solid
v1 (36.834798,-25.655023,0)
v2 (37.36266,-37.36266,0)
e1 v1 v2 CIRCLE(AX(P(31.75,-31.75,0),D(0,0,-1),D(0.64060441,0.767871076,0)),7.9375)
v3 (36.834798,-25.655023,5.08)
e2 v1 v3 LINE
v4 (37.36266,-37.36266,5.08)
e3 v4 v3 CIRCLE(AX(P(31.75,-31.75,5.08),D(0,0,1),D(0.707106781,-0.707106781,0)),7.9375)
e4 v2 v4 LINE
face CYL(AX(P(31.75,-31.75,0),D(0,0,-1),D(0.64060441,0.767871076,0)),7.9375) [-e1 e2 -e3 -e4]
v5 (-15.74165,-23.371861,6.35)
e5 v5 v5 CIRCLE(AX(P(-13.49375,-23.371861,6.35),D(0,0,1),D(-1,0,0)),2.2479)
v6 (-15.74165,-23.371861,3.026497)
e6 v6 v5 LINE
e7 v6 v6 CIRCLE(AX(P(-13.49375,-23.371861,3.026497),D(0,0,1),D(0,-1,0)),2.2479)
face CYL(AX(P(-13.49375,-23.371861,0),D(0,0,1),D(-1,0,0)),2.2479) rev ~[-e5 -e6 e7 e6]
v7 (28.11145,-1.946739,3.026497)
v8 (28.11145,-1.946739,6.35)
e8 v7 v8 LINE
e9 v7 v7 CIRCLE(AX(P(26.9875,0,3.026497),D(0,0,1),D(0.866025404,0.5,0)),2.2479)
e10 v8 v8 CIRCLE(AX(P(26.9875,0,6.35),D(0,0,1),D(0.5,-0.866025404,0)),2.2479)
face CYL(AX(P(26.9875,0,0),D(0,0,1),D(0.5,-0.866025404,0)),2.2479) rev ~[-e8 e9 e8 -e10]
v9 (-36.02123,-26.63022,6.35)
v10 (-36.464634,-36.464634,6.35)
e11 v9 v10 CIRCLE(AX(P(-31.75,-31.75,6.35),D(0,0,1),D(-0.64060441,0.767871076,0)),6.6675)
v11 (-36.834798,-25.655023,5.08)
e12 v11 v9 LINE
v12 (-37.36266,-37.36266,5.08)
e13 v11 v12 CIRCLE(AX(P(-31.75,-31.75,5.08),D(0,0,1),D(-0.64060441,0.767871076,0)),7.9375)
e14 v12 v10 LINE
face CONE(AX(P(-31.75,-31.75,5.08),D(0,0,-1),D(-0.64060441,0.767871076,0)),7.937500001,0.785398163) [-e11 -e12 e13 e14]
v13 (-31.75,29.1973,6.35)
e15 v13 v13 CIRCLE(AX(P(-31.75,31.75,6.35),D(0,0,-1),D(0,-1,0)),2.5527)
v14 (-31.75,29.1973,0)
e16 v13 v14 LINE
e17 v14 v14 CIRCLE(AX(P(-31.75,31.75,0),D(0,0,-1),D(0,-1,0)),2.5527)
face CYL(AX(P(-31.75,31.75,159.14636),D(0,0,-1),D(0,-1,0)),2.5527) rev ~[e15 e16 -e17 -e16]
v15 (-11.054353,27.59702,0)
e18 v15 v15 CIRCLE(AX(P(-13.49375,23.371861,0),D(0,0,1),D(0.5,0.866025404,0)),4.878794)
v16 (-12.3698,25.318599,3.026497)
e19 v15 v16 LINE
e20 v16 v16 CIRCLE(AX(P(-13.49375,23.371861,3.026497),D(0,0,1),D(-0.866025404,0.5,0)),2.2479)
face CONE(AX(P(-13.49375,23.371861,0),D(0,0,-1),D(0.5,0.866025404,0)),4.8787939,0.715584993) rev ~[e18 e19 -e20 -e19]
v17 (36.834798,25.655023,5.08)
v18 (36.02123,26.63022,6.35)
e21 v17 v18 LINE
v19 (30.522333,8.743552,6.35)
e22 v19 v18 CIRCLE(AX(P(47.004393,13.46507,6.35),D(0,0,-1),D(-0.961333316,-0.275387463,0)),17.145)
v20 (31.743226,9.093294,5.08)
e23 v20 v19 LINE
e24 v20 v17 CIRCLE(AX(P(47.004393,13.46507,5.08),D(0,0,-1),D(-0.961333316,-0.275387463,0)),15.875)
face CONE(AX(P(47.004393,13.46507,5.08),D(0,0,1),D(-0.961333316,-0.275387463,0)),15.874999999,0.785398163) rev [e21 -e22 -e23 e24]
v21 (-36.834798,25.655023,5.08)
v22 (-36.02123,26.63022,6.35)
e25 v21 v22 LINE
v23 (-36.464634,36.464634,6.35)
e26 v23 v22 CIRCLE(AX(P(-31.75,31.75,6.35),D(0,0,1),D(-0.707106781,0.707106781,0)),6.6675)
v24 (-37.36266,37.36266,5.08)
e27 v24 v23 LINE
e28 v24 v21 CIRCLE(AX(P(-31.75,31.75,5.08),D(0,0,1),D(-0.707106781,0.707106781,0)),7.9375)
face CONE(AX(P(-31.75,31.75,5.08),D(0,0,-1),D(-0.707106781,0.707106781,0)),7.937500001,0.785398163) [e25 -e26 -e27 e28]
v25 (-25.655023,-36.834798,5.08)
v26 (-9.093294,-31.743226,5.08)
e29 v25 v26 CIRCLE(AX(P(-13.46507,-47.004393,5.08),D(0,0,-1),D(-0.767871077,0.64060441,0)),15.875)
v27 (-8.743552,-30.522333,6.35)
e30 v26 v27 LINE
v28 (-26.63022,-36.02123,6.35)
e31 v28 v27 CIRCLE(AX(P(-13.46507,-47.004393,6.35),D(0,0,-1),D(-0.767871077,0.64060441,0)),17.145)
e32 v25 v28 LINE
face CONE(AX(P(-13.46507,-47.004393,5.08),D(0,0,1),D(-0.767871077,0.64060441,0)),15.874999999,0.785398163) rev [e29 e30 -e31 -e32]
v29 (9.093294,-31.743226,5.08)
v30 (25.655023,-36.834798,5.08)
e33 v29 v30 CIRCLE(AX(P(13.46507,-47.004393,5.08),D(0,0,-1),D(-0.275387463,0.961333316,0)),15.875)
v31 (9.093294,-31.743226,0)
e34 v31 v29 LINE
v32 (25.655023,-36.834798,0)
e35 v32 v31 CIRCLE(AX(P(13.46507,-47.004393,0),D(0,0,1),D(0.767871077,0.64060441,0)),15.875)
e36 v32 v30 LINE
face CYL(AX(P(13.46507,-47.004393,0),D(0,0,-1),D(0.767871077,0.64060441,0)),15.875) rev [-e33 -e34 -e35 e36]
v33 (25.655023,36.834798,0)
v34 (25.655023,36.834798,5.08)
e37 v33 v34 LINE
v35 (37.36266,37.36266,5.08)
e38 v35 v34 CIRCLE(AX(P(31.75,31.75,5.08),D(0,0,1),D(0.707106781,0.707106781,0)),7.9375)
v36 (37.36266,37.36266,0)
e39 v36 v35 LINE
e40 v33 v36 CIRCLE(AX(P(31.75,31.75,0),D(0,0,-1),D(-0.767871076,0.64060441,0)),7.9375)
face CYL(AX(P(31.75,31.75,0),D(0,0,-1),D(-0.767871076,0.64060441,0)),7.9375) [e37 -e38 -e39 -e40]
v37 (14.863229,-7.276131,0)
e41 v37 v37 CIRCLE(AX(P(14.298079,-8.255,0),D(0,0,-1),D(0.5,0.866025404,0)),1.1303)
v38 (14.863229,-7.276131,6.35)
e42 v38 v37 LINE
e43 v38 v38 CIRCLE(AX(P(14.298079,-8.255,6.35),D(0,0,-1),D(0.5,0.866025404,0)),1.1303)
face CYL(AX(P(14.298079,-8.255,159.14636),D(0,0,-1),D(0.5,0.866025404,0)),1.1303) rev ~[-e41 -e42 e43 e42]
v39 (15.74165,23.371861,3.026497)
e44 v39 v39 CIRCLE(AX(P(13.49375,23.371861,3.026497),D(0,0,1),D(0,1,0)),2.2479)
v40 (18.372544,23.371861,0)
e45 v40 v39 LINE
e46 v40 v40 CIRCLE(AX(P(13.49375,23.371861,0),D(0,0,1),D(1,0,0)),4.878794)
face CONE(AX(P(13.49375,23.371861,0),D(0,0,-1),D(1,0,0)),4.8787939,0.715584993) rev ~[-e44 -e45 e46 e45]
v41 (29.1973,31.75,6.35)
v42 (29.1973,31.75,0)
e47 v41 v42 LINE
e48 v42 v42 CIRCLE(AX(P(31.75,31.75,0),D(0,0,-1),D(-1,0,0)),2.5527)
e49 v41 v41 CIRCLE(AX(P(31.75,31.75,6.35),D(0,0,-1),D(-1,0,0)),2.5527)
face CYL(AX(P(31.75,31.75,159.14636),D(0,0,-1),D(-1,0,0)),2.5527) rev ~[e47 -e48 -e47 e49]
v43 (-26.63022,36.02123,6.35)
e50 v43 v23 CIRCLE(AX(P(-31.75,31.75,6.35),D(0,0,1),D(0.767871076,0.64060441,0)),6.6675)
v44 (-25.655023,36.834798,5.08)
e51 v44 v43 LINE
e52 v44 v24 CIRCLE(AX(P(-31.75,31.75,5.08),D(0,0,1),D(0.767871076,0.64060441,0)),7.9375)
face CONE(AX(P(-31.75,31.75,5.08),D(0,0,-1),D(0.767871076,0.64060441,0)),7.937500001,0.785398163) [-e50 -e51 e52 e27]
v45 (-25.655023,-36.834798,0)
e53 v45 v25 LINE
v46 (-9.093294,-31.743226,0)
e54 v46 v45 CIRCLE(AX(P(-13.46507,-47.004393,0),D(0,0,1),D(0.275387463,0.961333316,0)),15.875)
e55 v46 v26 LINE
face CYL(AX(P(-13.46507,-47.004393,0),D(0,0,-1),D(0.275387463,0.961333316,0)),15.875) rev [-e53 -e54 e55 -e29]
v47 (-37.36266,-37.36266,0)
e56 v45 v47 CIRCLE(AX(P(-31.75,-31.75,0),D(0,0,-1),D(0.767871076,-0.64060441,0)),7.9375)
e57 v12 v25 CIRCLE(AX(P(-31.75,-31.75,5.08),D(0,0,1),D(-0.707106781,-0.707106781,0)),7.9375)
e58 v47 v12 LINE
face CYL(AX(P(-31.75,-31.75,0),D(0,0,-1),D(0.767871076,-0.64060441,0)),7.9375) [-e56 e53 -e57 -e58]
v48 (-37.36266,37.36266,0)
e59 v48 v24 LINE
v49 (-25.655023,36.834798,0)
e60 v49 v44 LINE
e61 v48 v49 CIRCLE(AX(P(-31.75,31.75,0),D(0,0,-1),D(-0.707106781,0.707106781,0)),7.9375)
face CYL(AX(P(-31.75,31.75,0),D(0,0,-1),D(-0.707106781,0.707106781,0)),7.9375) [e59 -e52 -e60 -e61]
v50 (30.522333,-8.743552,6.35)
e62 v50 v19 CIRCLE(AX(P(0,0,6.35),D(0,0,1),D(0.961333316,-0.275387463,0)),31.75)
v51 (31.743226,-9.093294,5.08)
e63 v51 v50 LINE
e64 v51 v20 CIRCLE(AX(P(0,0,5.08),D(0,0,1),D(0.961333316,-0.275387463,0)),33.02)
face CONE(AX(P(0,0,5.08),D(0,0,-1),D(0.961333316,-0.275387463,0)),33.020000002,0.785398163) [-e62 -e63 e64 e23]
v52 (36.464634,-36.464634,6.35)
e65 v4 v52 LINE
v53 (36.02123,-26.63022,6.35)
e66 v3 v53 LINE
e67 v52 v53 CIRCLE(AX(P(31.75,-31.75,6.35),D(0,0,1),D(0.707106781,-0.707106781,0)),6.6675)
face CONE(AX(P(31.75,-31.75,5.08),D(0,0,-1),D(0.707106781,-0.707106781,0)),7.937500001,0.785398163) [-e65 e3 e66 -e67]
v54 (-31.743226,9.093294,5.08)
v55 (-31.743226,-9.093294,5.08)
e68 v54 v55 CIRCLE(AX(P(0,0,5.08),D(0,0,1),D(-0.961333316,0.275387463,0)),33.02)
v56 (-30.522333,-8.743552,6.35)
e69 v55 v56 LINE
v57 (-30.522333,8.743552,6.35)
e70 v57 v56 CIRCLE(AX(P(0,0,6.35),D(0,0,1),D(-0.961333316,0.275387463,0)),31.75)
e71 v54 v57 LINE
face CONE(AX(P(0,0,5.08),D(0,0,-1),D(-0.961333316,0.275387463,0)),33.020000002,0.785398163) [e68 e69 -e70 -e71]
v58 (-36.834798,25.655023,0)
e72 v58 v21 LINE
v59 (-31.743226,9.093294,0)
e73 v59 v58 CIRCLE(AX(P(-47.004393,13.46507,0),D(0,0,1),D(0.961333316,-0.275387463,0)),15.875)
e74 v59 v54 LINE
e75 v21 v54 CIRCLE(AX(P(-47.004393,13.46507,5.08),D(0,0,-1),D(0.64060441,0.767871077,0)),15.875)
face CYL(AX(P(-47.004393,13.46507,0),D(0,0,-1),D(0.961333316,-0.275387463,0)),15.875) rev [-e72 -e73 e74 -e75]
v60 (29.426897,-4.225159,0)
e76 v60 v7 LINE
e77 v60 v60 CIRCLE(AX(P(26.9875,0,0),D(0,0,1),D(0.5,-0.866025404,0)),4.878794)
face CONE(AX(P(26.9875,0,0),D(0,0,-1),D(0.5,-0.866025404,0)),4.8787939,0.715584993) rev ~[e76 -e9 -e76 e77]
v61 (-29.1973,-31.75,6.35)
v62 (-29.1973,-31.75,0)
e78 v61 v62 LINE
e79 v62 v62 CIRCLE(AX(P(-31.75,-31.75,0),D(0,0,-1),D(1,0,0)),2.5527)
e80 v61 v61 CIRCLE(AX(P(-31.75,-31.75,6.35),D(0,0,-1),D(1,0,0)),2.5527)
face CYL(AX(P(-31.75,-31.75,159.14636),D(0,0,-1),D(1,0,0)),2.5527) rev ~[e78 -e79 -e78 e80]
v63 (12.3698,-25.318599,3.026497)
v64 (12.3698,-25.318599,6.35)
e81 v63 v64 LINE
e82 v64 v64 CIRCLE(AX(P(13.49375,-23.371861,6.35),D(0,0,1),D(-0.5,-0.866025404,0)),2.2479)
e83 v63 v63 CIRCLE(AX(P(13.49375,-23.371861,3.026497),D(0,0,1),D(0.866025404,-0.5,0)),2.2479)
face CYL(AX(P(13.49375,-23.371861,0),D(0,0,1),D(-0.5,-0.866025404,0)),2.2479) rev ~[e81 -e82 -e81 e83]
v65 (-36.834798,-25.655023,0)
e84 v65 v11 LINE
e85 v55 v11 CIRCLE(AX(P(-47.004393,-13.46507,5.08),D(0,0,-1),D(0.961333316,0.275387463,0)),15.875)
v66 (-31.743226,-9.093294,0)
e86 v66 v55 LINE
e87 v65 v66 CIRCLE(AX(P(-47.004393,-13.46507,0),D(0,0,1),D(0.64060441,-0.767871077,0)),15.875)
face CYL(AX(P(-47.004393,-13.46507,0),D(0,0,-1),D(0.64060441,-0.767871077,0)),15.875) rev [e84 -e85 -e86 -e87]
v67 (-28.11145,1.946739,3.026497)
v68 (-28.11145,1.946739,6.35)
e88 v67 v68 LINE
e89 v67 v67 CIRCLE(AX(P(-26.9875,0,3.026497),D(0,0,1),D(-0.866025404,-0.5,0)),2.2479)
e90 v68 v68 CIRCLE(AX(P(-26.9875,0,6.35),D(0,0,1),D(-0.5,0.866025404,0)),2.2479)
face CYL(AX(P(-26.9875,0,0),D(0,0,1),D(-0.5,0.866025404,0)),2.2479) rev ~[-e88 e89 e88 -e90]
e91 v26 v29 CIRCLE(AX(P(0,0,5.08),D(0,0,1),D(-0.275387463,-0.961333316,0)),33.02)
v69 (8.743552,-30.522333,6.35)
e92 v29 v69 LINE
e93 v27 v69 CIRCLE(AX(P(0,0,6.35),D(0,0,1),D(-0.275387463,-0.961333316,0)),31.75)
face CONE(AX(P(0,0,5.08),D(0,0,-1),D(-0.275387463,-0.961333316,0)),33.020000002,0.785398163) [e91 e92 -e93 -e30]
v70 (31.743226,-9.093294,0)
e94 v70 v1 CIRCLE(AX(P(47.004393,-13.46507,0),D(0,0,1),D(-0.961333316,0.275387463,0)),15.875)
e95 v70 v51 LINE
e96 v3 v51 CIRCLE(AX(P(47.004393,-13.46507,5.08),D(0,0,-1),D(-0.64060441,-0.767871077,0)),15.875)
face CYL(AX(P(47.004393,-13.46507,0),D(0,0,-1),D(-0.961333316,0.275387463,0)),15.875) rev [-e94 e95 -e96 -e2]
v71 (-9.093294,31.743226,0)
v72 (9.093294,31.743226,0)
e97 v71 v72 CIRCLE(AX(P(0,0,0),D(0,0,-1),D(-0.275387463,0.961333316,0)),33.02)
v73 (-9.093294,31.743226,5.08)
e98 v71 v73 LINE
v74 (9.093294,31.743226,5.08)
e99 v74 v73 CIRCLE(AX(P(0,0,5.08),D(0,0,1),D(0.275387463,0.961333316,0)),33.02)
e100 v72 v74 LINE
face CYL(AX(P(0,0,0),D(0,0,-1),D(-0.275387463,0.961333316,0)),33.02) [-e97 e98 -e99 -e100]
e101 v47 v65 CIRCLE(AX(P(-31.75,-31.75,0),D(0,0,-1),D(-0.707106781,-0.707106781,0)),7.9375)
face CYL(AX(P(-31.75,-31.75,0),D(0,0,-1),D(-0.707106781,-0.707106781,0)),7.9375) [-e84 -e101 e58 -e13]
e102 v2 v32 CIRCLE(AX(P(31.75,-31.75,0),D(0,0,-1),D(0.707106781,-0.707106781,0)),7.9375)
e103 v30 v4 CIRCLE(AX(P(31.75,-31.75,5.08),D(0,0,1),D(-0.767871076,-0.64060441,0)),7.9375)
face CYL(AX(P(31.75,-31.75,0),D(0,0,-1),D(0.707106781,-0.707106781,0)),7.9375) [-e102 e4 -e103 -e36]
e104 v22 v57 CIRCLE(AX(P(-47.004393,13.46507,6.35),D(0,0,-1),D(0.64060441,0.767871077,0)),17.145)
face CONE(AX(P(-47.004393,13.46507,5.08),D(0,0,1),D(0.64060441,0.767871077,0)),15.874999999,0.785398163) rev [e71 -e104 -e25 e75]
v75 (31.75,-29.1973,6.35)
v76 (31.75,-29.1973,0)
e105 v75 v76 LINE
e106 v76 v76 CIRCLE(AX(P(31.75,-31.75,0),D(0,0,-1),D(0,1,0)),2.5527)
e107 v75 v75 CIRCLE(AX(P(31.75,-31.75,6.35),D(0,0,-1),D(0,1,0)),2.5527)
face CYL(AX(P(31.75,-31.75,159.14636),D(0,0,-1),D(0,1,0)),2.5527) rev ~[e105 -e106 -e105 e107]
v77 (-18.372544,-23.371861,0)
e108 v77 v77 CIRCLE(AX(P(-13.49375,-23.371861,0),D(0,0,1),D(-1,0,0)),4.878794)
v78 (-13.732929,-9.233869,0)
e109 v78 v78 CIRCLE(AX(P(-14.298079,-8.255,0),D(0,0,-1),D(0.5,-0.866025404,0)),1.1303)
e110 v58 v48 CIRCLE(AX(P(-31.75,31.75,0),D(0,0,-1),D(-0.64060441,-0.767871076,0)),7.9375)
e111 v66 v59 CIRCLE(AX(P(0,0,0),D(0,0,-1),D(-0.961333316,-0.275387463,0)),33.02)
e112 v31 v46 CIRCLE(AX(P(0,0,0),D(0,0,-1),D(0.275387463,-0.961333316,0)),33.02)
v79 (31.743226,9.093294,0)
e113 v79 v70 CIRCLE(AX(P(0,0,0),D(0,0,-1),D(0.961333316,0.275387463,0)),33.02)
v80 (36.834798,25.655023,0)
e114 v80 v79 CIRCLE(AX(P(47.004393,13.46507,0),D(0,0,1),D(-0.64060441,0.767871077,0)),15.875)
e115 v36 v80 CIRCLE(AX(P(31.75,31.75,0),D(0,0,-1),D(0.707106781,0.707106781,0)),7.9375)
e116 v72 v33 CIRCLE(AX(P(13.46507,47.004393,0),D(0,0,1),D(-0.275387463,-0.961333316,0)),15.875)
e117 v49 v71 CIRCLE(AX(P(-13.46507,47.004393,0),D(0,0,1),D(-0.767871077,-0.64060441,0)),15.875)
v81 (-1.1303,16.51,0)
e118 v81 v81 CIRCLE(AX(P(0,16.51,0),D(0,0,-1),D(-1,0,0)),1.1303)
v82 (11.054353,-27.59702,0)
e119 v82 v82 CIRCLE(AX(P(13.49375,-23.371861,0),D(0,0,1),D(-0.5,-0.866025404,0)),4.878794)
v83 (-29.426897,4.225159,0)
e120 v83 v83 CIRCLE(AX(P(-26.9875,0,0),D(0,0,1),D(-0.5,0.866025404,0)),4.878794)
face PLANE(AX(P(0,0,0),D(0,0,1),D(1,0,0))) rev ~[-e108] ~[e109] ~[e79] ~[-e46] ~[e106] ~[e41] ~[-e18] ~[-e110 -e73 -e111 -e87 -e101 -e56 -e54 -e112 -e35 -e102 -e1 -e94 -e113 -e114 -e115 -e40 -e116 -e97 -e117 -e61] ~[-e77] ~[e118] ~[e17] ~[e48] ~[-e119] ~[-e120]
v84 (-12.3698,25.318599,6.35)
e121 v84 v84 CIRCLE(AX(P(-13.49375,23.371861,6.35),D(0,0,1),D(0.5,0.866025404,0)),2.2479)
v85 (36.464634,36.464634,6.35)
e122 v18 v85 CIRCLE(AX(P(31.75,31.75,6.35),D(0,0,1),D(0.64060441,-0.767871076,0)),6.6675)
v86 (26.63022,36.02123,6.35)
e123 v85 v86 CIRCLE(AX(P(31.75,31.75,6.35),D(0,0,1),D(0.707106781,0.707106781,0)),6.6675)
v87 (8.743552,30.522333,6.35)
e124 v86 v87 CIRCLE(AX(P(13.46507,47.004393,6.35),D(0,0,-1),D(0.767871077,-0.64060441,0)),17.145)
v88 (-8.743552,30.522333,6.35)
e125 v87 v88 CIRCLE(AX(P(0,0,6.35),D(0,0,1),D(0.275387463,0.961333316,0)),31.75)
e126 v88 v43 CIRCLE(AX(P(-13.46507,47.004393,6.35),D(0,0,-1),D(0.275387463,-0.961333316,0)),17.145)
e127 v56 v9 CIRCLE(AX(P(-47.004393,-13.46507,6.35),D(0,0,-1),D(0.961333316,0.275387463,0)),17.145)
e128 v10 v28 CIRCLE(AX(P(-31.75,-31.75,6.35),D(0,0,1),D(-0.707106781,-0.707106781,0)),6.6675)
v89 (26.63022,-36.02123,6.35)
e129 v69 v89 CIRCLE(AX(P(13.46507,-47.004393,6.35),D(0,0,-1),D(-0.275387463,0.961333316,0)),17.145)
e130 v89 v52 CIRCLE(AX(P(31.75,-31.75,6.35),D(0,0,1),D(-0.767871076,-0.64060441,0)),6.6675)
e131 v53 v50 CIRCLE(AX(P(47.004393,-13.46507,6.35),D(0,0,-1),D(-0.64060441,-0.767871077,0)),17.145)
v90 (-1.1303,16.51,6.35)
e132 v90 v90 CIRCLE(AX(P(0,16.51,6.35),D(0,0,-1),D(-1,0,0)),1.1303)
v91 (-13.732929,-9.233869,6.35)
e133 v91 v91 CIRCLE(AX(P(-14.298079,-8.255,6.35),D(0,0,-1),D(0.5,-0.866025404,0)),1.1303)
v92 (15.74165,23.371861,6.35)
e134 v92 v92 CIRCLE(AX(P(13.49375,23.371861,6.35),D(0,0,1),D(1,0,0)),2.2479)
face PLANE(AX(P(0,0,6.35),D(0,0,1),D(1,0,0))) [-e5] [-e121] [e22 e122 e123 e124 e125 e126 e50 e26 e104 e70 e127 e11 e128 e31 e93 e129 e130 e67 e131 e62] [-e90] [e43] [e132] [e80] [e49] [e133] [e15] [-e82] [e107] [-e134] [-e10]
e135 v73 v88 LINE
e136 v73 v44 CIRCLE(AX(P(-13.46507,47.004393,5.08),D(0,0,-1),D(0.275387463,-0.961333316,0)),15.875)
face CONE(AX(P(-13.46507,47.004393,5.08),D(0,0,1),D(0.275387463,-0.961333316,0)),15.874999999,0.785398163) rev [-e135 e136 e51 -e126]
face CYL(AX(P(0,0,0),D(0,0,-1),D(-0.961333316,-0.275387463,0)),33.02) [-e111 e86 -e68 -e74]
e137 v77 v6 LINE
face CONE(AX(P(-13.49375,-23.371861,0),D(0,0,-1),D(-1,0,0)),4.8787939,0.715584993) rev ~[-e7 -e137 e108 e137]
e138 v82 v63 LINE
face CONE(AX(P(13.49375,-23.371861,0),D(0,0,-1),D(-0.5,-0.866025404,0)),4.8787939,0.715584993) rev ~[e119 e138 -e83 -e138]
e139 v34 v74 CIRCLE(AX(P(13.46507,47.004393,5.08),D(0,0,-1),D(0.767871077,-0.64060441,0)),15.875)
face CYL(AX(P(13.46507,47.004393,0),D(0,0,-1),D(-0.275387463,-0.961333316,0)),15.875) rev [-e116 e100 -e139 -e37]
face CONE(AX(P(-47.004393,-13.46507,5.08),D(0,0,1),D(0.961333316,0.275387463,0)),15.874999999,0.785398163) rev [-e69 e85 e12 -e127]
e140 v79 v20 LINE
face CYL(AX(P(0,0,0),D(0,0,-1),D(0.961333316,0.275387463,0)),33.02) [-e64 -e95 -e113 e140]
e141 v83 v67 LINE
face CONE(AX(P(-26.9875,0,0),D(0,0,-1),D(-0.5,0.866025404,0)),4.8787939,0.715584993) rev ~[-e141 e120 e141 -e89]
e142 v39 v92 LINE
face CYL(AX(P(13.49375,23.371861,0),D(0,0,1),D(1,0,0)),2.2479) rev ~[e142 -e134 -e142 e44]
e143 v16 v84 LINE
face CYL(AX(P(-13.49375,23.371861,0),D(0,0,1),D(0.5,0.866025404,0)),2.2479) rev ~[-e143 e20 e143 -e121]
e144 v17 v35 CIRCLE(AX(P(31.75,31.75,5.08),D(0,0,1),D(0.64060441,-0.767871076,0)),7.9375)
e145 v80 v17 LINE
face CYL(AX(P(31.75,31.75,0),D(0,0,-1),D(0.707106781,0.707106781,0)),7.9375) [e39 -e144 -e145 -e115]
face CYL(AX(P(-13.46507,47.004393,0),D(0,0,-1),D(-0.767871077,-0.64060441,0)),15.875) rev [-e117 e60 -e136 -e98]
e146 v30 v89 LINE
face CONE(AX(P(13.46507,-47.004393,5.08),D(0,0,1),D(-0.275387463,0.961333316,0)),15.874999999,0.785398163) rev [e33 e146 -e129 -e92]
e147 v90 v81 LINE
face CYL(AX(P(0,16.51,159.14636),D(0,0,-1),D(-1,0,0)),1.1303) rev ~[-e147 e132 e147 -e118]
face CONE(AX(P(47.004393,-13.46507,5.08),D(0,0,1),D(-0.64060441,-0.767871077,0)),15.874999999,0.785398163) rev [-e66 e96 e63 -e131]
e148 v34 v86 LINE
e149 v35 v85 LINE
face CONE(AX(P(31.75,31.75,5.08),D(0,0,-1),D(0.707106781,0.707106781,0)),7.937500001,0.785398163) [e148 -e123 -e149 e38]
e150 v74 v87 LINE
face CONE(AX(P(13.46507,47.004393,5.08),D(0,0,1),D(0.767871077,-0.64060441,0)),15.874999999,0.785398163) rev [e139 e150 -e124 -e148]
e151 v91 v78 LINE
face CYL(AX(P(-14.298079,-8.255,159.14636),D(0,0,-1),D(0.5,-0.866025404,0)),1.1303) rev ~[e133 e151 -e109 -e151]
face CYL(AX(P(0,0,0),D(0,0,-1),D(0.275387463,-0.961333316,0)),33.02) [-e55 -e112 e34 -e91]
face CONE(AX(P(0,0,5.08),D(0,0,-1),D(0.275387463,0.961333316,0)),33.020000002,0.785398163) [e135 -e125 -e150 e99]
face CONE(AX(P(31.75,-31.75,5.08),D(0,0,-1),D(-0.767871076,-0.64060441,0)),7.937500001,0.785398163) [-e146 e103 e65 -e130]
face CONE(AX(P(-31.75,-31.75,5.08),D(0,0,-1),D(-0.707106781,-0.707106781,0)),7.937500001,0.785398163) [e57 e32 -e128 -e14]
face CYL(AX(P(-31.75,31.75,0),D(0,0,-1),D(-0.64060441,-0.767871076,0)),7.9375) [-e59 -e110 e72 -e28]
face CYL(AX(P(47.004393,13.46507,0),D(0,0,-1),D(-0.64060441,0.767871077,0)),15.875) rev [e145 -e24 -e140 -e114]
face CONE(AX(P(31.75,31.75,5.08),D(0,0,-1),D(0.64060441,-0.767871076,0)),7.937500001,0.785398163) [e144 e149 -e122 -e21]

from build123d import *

# Parameters (mm, degrees)
SKETCH1_R                                      = 53.975
BOSS_EXTRUDE1_DEPTH                            = 6.35
CSK_FOR_8_FLAT_HEAD_MACHINE_SCREW1_D           = 4.4958
CSK_FOR_8_FLAT_HEAD_MACHINE_SCREW1_CSINK_D     = 9.7575878
CSK_FOR_8_FLAT_HEAD_MACHINE_SCREW1_CSINK_ANGLE = 82
CIRPATTERN1_COUNT                              = 6
F_10_CLEARANCE_HOLE1_D                         = 5.1054
CIRPATTERN2_COUNT                              = 4
F_4_40_TAPPED_HOLE1_D                          = 2.2606
CIRPATTERN3_COUNT                              = 3
CUT_EXTRUDE2_DEPTH                             = 77.59584682
CIRPATTERN4_COUNT                              = 4
CHAMFER1_SIZE                                  = 1.27


with BuildPart() as part:
    # Sketch1 → Boss-Extrude1 (new body)
    with BuildSketch(Plane.XY):
        Circle(SKETCH1_R)
    extrude(amount=BOSS_EXTRUDE1_DEPTH)

    # CSK for #8 Flat Head Machine Screw1 (through all)
    with Locations(Plane(origin=(0, 0, 0), x_dir=(-1, 0, 0), z_dir=(0, 0, -1))):
        with Locations((-13.49375, 23.371860585)):
            csk_for_8_flat_head_machine_screw1 = CounterSinkHole(CSK_FOR_8_FLAT_HEAD_MACHINE_SCREW1_D / 2, CSK_FOR_8_FLAT_HEAD_MACHINE_SCREW1_CSINK_D / 2, counter_sink_angle=CSK_FOR_8_FLAT_HEAD_MACHINE_SCREW1_CSINK_ANGLE)

    # CirPattern1: CSK for #8 Flat Head Machine Screw1 ×6 about axis
    cirpattern1_axis = Axis((0, 0, 0), (0, 0, 1))
    for i in range(1, CIRPATTERN1_COUNT):
        add(csk_for_8_flat_head_machine_screw1.rotate(cirpattern1_axis, i * 360 / CIRPATTERN1_COUNT), mode=Mode.SUBTRACT)

    # #10 Clearance Hole1 (through all)
    with Locations(Plane.XY.offset(6.35)):
        with Locations((31.75, 31.75)):
            f_10_clearance_hole1 = Hole(F_10_CLEARANCE_HOLE1_D / 2)

    # CirPattern2: #10 Clearance Hole1 ×4 about axis
    cirpattern2_axis = Axis((0, 0, 0), (0, 0, 1))
    for i in range(1, CIRPATTERN2_COUNT):
        add(f_10_clearance_hole1.rotate(cirpattern2_axis, i * 360 / CIRPATTERN2_COUNT), mode=Mode.SUBTRACT)

    # #4-40 Tapped Hole1 (through all)
    with Locations(Plane.XY.offset(6.35)):
        with Locations((0, 16.51)):
            f_4_40_tapped_hole1 = Hole(F_4_40_TAPPED_HOLE1_D / 2)

    # CirPattern3: #4-40 Tapped Hole1 ×3 about axis
    cirpattern3_axis = Axis((0, 0, 0), (0, 0, 1))
    for i in range(1, CIRPATTERN3_COUNT):
        add(f_4_40_tapped_hole1.rotate(cirpattern3_axis, i * 360 / CIRPATTERN3_COUNT), mode=Mode.SUBTRACT)

    # Sketch9 → Cut-Extrude2 (cut, through all)
    with BuildSketch(Plane(origin=(0, 0, 0), x_dir=(-1, 0, 0), z_dir=(0, 0, -1))):
        with BuildLine():
            Line((-37.362660076, 37.362660076), (-38.166088515, 38.166088515))
            ThreePointArc((-38.166088515, 38.166088515), (0, 53.975), (38.166088515, 38.166088515))
            Line((38.166088515, 38.166088515), (37.362660076, 37.362660076))
            ThreePointArc((37.362660076, 37.362660076), (31.392484898, 39.679444445), (25.65502333, 36.834797503))
            ThreePointArc((25.65502333, 36.834797503), (18.130045784, 31.830282128), (9.09329402, 31.74322611))
            ThreePointArc((9.09329402, 31.74322611), (0, 33.02), (-9.09329402, 31.74322611))
            ThreePointArc((-9.09329402, 31.74322611), (-18.130045784, 31.830282128), (-25.65502333, 36.834797503))
            ThreePointArc((-25.65502333, 36.834797503), (-31.392484898, 39.679444445), (-37.362660076, 37.362660076))
        make_face()
    cut_extrude2 = extrude(amount=-CUT_EXTRUDE2_DEPTH, mode=Mode.SUBTRACT)

    # CirPattern4: Cut-Extrude2 ×4 about axis
    cirpattern4_axis = Axis((0, 0, 0), (0, 0, 1))
    for i in range(1, CIRPATTERN4_COUNT):
        add(cut_extrude2.rotate(cirpattern4_axis, i * 360 / CIRPATTERN4_COUNT), mode=Mode.SUBTRACT)

    # Chamfer1
    chamfer1_edges = [part.edges().sort_by_distance(p)[0] for p in [
        (37.362660076, 37.362660076, 6.35),
        (-37.362660076, 37.362660076, 6.35),
        (-18.130045784, 31.830282128, 6.35),
        (0, 33.02, 6.35),
        (18.130045784, 31.830282128, 6.35),
        (37.362660076, -37.362660076, 6.35),
        (31.830282128, 18.130045784, 6.35),
        (33.02, 0, 6.35),
        (31.830282128, -18.130045784, 6.35),
        (-37.362660076, -37.362660076, 6.35),
        (18.130045784, -31.830282128, 6.35),
        (0, -33.02, 6.35),
        (-18.130045784, -31.830282128, 6.35),
        (-31.830282128, -18.130045784, 6.35),
        (-33.02, 0, 6.35),
        (-31.830282128, 18.130045784, 6.35),
    ]]
    chamfer(chamfer1_edges, length=CHAMFER1_SIZE)


solid = part.part
